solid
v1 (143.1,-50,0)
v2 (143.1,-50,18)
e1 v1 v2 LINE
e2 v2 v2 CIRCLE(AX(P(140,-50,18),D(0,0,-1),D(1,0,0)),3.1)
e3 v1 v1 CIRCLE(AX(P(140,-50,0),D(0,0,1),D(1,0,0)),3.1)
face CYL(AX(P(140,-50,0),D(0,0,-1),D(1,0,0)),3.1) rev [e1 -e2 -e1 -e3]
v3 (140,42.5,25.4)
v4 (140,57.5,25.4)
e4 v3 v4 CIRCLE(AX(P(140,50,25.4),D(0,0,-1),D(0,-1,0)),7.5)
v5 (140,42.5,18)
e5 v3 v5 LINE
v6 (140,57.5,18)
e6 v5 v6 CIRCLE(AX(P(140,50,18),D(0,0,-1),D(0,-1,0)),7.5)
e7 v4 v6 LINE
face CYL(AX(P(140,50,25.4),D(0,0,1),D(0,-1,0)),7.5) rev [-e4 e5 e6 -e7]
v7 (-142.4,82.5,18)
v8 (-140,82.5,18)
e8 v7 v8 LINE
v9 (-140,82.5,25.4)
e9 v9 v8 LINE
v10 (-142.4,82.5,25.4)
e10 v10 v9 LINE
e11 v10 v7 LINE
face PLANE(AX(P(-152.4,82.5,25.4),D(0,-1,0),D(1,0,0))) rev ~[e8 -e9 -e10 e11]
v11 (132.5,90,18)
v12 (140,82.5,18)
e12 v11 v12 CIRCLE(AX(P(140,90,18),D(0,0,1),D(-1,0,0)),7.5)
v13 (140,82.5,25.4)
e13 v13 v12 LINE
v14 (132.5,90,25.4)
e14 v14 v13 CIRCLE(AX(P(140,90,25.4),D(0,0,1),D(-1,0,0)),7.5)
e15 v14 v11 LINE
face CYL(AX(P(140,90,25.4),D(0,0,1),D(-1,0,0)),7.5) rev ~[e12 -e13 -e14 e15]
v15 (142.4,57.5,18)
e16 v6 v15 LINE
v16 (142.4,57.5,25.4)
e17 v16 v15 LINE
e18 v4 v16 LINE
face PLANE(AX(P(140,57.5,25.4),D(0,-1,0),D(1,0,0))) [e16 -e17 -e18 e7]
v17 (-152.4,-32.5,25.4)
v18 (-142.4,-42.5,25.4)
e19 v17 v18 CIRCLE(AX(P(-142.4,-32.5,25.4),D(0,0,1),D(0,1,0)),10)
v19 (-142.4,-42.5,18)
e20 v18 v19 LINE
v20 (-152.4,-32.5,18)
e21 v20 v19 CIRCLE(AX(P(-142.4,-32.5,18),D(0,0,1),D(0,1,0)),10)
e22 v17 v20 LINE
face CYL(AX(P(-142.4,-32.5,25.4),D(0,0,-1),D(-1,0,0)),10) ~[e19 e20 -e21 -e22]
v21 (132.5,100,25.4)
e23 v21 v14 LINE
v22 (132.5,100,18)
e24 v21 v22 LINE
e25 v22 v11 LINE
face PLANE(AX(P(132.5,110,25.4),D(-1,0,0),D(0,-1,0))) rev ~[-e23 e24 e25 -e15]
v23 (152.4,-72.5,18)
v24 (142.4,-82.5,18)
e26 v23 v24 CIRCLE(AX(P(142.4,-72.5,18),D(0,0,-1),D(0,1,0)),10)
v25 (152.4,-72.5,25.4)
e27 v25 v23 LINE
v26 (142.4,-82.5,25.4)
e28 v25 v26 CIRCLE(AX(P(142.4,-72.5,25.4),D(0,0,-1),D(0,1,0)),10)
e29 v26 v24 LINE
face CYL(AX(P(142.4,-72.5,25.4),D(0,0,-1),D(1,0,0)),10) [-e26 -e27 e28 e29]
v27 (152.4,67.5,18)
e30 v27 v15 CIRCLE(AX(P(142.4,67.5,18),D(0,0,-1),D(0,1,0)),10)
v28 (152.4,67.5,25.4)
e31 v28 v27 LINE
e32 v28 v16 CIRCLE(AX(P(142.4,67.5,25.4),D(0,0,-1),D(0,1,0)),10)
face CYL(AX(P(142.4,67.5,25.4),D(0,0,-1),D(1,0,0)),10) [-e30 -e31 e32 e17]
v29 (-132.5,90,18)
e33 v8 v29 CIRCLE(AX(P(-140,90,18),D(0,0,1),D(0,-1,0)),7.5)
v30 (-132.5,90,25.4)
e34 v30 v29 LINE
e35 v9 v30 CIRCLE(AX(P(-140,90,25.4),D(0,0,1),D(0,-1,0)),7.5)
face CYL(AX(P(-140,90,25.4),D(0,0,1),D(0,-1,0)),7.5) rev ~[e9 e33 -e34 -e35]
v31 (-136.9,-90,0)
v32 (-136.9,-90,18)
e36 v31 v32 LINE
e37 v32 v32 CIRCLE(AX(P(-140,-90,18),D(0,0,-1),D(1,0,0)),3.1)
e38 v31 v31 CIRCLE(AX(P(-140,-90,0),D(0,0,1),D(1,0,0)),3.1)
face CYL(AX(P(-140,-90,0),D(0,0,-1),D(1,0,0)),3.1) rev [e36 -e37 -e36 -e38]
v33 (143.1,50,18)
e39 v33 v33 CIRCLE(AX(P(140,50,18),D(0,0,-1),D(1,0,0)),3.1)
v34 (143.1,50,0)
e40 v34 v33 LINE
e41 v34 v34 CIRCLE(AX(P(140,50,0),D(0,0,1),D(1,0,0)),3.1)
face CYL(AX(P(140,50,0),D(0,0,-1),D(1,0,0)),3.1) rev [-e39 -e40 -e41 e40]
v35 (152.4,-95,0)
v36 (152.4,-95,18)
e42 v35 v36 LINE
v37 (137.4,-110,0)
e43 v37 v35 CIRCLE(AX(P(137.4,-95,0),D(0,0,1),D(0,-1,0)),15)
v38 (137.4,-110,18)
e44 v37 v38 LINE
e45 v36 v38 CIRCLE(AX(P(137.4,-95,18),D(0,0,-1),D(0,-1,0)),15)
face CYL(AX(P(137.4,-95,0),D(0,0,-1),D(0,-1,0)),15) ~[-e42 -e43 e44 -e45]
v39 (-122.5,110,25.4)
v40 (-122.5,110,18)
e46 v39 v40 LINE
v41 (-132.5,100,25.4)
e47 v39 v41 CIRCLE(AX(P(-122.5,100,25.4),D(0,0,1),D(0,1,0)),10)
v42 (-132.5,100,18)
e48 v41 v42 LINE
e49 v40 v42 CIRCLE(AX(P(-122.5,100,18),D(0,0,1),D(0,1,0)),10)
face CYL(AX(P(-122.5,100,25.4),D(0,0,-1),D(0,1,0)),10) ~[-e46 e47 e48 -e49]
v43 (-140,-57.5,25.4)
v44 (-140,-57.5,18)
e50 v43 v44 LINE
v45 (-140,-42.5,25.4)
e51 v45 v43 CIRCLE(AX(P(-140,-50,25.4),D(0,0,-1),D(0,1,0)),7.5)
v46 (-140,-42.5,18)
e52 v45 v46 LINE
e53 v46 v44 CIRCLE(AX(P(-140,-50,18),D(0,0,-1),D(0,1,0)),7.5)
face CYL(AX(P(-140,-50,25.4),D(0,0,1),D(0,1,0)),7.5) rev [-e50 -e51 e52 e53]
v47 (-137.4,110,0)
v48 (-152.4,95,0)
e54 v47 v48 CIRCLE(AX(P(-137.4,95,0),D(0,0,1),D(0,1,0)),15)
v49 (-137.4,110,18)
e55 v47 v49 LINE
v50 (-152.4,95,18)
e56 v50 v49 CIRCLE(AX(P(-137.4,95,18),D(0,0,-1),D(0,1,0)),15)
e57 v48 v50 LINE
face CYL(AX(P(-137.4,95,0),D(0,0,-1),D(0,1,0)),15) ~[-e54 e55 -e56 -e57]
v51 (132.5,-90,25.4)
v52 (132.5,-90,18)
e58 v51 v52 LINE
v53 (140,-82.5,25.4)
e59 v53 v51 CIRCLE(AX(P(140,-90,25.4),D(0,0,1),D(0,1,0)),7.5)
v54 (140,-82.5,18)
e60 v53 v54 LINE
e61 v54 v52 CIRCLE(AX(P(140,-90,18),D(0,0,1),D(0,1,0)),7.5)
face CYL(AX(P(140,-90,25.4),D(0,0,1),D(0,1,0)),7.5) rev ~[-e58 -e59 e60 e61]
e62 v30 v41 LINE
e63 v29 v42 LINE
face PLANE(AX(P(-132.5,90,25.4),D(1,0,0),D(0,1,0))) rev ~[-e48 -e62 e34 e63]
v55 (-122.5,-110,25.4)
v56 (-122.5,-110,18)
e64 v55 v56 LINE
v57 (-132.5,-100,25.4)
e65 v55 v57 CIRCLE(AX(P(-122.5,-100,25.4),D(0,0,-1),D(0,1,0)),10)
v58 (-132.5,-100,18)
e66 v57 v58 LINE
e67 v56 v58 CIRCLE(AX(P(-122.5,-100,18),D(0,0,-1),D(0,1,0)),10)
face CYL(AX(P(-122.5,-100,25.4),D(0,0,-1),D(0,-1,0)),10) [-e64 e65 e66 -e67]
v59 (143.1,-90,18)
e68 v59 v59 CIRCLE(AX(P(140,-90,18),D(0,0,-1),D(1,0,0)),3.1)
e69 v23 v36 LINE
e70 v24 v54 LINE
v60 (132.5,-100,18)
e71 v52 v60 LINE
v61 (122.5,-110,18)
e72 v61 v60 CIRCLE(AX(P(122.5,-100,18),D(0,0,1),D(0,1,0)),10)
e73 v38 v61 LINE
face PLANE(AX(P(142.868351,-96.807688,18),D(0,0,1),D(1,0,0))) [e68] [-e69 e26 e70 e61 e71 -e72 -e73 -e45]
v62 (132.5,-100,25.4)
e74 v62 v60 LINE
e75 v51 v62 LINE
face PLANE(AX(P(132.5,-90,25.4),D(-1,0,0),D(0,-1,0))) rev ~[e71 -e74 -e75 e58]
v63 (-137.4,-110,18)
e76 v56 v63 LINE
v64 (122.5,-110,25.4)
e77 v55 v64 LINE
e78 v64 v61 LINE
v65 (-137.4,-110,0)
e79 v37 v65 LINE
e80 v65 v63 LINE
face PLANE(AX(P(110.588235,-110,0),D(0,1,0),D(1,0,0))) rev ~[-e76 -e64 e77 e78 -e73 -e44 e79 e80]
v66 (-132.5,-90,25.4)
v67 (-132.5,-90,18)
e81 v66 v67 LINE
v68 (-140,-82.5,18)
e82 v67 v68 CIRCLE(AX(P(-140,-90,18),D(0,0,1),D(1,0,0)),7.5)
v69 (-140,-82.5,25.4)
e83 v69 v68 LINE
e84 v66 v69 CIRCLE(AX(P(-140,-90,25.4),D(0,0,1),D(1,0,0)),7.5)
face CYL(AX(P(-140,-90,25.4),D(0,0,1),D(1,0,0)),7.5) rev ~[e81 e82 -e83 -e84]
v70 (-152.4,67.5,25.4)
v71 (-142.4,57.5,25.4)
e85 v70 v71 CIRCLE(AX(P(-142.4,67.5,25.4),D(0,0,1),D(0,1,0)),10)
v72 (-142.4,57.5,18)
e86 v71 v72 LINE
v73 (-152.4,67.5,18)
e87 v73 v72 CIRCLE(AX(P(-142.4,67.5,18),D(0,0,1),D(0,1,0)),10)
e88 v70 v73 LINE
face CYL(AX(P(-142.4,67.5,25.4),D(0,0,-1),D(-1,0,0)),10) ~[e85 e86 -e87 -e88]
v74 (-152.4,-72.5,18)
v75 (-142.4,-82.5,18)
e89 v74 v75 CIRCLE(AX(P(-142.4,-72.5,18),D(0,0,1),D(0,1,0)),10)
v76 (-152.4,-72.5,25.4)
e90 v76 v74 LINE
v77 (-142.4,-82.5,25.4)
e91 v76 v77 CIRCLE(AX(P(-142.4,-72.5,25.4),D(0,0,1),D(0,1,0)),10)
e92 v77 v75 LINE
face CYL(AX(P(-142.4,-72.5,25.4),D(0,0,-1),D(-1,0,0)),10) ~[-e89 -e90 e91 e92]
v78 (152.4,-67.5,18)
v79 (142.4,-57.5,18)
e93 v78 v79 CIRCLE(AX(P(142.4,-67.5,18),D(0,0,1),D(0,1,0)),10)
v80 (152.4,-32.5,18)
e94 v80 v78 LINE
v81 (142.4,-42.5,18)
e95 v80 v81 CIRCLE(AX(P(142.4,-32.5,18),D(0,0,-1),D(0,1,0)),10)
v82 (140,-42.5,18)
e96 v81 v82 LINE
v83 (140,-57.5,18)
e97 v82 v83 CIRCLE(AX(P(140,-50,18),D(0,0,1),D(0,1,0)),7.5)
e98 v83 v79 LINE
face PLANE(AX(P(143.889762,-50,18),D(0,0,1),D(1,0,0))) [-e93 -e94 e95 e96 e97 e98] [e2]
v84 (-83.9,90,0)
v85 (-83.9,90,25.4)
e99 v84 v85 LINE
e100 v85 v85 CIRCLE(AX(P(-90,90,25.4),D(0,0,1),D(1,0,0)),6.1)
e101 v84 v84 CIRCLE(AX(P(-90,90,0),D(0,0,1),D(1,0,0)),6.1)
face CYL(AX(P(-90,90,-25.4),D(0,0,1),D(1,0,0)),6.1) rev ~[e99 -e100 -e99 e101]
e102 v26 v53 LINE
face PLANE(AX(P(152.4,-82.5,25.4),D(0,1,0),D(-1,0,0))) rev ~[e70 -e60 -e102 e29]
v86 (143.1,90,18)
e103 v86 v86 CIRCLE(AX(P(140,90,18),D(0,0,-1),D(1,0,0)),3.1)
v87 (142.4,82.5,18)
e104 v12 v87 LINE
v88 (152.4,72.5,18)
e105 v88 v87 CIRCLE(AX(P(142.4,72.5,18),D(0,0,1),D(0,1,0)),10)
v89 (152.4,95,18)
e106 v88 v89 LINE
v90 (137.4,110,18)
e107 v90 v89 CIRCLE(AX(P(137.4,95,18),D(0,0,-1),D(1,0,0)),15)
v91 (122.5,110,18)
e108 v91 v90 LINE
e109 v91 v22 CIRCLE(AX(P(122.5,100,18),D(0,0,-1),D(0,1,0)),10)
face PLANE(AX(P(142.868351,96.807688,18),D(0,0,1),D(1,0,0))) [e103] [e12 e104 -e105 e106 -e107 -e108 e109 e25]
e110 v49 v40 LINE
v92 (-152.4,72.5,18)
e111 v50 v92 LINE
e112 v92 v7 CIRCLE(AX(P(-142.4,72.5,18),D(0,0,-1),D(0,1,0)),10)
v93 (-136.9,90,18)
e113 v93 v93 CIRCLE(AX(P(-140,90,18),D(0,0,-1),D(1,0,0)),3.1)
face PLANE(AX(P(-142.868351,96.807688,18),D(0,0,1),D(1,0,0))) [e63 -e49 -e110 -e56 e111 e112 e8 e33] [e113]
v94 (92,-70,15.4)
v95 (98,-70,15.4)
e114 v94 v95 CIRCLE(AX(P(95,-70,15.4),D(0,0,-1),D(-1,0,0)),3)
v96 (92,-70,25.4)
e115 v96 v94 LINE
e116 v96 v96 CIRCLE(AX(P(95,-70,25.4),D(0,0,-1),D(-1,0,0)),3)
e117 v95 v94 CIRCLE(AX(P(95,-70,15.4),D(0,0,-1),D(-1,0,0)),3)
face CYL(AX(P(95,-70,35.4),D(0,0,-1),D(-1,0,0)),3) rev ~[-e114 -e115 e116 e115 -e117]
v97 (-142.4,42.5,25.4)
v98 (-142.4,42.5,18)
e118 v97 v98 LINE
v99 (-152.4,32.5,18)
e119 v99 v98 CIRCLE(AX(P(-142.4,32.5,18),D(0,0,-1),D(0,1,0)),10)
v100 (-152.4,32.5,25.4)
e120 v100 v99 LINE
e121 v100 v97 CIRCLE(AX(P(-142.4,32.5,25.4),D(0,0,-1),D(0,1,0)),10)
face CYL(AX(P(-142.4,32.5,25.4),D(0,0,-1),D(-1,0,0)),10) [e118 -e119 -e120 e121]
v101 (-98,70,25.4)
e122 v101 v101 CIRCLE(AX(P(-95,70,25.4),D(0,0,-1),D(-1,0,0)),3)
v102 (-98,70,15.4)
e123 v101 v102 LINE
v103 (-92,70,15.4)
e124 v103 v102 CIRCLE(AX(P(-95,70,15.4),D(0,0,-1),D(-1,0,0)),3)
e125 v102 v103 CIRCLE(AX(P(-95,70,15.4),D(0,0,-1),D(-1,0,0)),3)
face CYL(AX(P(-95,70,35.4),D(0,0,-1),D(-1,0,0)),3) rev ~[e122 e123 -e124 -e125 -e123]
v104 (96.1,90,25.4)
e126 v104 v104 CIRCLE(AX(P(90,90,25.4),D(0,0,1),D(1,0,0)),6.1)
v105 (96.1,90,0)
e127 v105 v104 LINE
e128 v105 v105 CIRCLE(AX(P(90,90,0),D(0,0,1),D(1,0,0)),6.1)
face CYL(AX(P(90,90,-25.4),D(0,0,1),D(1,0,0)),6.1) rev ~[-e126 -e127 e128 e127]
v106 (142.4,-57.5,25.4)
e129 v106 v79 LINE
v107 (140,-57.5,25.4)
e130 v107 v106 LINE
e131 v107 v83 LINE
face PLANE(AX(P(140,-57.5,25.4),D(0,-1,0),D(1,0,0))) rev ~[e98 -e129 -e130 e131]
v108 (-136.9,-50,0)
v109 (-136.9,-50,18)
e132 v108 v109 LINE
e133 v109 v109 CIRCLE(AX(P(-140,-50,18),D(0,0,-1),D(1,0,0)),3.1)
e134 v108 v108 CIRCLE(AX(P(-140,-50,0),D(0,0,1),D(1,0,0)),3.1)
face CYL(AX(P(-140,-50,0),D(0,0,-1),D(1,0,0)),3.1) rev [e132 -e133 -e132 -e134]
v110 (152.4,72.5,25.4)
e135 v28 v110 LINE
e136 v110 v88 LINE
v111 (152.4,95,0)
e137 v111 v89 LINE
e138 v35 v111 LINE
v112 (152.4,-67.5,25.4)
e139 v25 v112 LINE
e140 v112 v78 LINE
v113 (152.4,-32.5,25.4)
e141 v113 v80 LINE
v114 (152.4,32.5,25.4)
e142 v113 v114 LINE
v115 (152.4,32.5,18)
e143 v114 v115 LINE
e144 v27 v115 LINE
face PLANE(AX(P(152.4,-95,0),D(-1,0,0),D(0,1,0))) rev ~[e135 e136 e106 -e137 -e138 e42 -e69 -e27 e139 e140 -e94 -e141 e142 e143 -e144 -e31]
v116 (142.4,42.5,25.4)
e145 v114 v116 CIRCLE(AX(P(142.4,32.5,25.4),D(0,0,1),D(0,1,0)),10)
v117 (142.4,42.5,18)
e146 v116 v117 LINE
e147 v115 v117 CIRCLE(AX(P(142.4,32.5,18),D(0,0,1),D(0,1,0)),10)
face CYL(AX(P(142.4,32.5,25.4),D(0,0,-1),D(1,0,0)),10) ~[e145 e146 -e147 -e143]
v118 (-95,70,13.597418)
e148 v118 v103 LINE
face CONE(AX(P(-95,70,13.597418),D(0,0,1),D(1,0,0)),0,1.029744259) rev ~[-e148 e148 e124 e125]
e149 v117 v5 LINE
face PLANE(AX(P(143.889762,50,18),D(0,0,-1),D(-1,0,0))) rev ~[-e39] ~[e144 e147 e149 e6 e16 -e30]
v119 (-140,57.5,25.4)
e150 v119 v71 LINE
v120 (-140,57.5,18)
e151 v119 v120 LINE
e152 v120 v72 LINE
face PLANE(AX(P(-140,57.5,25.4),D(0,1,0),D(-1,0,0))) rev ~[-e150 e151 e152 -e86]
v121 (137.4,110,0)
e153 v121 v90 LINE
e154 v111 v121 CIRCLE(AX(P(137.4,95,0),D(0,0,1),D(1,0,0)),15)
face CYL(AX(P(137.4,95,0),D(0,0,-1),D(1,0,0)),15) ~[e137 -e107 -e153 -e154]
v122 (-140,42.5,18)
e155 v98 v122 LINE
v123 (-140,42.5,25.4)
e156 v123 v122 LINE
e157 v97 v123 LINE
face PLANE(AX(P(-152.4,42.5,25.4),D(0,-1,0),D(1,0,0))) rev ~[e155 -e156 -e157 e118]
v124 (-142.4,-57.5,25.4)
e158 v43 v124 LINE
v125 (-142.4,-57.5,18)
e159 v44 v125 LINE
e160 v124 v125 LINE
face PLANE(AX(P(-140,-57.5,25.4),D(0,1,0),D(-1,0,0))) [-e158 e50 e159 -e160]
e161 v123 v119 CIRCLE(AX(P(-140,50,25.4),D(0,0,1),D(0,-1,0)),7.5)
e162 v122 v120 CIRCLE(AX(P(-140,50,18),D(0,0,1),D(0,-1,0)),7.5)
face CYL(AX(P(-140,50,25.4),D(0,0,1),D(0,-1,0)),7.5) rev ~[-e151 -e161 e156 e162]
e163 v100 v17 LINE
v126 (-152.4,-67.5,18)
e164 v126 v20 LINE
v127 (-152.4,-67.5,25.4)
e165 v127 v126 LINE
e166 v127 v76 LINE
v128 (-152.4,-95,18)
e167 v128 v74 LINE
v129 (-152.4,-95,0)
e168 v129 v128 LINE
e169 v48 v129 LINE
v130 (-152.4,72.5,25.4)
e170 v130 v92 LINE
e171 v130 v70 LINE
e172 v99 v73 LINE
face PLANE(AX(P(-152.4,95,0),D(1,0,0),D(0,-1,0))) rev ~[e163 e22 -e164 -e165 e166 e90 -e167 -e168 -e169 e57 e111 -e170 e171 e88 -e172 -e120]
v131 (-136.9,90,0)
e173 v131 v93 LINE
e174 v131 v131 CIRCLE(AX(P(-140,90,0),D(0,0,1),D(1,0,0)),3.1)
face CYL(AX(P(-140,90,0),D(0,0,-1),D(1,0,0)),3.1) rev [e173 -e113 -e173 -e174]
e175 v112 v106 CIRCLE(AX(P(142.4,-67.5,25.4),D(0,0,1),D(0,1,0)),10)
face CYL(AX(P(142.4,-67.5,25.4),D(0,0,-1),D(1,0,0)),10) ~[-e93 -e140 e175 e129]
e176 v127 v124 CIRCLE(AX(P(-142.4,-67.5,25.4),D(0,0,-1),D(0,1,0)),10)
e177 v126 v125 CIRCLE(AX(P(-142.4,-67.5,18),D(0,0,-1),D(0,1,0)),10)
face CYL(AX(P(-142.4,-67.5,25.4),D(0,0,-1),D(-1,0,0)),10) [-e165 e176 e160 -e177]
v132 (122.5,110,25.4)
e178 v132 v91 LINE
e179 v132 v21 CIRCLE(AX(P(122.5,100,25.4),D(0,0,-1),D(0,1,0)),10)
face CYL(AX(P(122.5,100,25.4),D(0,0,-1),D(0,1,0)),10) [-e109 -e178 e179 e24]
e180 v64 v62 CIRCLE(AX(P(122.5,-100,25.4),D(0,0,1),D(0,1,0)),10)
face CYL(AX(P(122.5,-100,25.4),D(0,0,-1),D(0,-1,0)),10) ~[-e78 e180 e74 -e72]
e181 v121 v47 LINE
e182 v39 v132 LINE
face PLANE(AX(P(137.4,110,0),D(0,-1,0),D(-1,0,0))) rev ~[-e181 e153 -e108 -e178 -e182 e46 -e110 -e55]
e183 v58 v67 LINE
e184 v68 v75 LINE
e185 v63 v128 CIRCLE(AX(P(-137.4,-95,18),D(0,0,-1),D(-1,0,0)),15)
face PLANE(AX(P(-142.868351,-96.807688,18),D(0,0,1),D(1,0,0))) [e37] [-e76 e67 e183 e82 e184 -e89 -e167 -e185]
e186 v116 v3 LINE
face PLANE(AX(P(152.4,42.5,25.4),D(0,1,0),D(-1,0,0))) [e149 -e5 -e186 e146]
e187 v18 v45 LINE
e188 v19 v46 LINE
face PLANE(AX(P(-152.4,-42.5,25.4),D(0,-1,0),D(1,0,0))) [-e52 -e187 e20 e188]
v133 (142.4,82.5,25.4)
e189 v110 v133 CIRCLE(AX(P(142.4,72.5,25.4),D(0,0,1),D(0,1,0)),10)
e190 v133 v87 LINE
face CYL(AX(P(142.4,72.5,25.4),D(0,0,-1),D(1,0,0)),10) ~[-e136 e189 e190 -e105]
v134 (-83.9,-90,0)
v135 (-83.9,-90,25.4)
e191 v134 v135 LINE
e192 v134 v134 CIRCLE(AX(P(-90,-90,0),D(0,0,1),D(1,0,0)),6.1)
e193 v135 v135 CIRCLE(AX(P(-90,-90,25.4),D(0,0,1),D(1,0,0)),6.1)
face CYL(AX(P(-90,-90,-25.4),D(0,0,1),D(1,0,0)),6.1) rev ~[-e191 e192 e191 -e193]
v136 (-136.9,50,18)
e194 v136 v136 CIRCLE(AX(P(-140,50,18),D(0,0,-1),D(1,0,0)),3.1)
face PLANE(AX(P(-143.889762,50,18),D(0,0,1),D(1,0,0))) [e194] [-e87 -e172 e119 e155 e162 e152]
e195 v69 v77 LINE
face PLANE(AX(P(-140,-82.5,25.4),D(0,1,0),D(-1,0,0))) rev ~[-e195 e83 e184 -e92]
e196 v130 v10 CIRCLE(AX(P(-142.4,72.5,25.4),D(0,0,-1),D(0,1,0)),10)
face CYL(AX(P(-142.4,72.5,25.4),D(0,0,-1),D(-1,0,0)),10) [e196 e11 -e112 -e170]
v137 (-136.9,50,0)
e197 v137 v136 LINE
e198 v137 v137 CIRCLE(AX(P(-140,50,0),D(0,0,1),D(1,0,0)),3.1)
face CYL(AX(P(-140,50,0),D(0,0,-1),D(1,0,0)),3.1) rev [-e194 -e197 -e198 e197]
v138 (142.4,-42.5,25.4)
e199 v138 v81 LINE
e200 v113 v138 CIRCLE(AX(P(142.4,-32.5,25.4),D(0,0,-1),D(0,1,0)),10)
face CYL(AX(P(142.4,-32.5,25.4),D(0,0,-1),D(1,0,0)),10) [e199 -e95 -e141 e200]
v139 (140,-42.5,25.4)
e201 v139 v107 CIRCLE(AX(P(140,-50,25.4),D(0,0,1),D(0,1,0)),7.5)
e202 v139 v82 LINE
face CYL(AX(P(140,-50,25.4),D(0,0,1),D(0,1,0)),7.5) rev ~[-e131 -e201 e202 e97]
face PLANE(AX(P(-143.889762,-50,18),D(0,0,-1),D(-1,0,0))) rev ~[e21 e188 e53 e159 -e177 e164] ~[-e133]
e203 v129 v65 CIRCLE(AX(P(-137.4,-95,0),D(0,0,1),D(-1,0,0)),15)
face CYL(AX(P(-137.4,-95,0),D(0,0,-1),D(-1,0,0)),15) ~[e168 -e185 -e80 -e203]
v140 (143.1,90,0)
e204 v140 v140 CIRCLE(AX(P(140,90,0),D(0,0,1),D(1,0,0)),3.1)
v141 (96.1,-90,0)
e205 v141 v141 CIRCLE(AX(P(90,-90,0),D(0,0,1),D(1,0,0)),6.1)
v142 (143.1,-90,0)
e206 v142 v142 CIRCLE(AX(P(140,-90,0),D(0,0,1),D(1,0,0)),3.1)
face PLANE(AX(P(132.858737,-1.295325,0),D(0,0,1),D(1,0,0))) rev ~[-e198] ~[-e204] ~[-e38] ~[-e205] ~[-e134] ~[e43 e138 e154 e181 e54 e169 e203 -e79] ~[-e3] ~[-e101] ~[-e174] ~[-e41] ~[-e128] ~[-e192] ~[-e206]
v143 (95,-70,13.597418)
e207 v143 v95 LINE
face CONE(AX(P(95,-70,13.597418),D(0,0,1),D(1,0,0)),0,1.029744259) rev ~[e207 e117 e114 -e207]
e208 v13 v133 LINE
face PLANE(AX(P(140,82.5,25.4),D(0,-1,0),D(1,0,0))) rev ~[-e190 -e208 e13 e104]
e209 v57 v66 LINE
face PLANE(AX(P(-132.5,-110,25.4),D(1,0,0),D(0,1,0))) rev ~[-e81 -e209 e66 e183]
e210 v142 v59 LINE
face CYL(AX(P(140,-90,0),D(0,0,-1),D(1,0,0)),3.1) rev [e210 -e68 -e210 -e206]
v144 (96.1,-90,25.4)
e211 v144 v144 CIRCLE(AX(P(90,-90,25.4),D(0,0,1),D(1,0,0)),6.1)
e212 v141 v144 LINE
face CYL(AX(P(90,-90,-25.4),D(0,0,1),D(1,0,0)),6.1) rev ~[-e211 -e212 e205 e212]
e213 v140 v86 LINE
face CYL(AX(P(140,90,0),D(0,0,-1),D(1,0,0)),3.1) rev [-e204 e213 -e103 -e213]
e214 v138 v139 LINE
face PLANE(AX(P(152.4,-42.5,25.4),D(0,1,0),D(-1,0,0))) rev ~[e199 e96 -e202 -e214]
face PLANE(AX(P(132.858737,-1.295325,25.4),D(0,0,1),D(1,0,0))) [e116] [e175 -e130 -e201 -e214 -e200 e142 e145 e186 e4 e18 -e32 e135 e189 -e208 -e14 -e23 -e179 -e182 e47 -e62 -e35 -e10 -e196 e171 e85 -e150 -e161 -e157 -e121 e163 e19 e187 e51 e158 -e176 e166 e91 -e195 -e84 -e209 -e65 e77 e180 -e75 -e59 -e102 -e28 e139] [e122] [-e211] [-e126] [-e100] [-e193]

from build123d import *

# Parameters (mm, degrees)
BOSS_EXTRUDE2_DEPTH              = 25.4
CUT_EXTRUDE2_DEPTH               = 26.4
F_10_2_10_2_DIAMETER_HOLE2_D     = 12.2
F_10_2_10_2_DIAMETER_HOLE2_DEPTH = 25.4
F_15_0_15_DIAMETER_HOLE2_D       = 15
F_15_0_15_DIAMETER_HOLE2_DEPTH   = 25.4
SKETCH32_R                       = 300
SKETCH32_W                       = 230
SKETCH32_H                       = 220
CUT_EXTRUDE3_DEPTH               = 26.4
SKETCH33_R                       = 3.1
BOSS_EXTRUDE3_DEPTH              = 25.4
F_6_0_6_DIAMETER_HOLE3_D         = 6
F_6_0_6_DIAMETER_HOLE3_DEPTH     = 10
F_6_0_6_DIAMETER_HOLE3_TIP       = 1.802581857
CUT_EXTRUDE4_DEPTH               = 7.4
FILLET1_R                        = 10


with BuildPart() as part:
    # Sketch18 → Boss-Extrude2 (new body)
    with BuildSketch(Plane(origin=(0, 0, 0), x_dir=(-1, 0, 0), z_dir=(0, 0, -1))):
        with BuildLine():
            Line((20, -40), (-20, -40))
            ThreePointArc((-20, -40), (-41.213203436, -31.213203436), (-50, -10))
            Line((-50, -10), (-50, -5))
            Line((-50, -5), (-55, 0))
            Line((-55, 0), (-50, 5))
            Line((-50, 5), (-50, 100))
            ThreePointArc((-50, 100), (-52.928932188, 107.071067812), (-60, 110))
            Line((-60, 110), (-165, 110))
            ThreePointArc((-165, 110), (-172.071067812, 107.071067812), (-175, 100))
            Line((-175, 100), (-175, 40))
            ThreePointArc((-175, 40), (-172.071067812, 32.928932188), (-165, 30))
            Line((-165, 30), (-155, 30))
            ThreePointArc((-155, 30), (-126.715728753, 18.284271247), (-115, -10))
            Line((-115, -10), (-115, -104.24379092))
            ThreePointArc((-115, -104.24379092), (-114.870742021, -104.951126971), (-114.499675711, -105.567034195))
            Line((-114.499675711, -105.567034195), (-40.597138287, -189.323243274))
            ThreePointArc((-40.597138287, -189.323243274), (-39.920114828, -189.822976488), (-39.097462577, -190))
            Line((-39.097462577, -190), (39.097462577, -190))
            ThreePointArc((39.097462577, -190), (39.920114828, -189.822976488), (40.597138287, -189.323243274))
            Line((40.597138287, -189.323243274), (114.499675711, -105.567034195))
            ThreePointArc((114.499675711, -105.567034195), (114.870742021, -104.951126971), (115, -104.24379092))
            Line((115, -104.24379092), (115, -10))
            ThreePointArc((115, -10), (126.715728753, 18.284271247), (155, 30))
            Line((155, 30), (165, 30))
            ThreePointArc((165, 30), (172.071067812, 32.928932188), (175, 40))
            Line((175, 40), (175, 100))
            ThreePointArc((175, 100), (172.071067812, 107.071067812), (165, 110))
            Line((165, 110), (60, 110))
            ThreePointArc((60, 110), (52.928932188, 107.071067812), (50, 100))
            Line((50, 100), (50, 5))
            Line((50, 5), (55, 0))
            Line((55, 0), (50, -5))
            Line((50, -5), (50, -10))
            ThreePointArc((50, -10), (41.213203436, -31.213203436), (20, -40))
        make_face()
    extrude(amount=-BOSS_EXTRUDE2_DEPTH)

    # Sketch19 → Cut-Extrude2 (cut, through all)
    with BuildSketch(Plane(origin=(0, 0, 0), x_dir=(-1, 0, 0), z_dir=(0, 0, -1))):
        Polygon((-5, -40), (0, -45), (5, -40), align=None)
    extrude(amount=-CUT_EXTRUDE2_DEPTH, mode=Mode.SUBTRACT)

    # Ø10.2 (10.2) Diameter Hole2
    with Locations(Plane(origin=(0, 0, 0), x_dir=(-1, 0, 0), z_dir=(0, 0, -1))):
        with Locations((-90, -90), (90, -90), (-90, 90), (90, 90)):
            Hole(F_10_2_10_2_DIAMETER_HOLE2_D / 2, depth=F_10_2_10_2_DIAMETER_HOLE2_DEPTH)

    # Ø15.0 (15) Diameter Hole2
    with Locations(Plane(origin=(0, 0, 0), x_dir=(-1, 0, 0), z_dir=(0, 0, -1))):
        with Locations((0, -150), (-135, 60), (135, 60)):
            Hole(F_15_0_15_DIAMETER_HOLE2_D / 2, depth=F_15_0_15_DIAMETER_HOLE2_DEPTH)

    # Sketch32 → Cut-Extrude3 (cut, through all)
    with BuildSketch(Plane.XY):
        Circle(SKETCH32_R)
        Rectangle(SKETCH32_W, SKETCH32_H, mode=Mode.SUBTRACT)
    extrude(amount=CUT_EXTRUDE3_DEPTH, mode=Mode.SUBTRACT)

    # Sketch33 → Boss-Extrude3 (add)
    with BuildSketch(Plane.XY):
        with BuildLine():
            Line((137.4, 110), (115, 110))
            Line((115, 110), (115, -104.24379092))
            ThreePointArc((115, -104.24379092), (114.870742021, -104.951126971), (114.499675711, -105.567034195))
            Line((114.499675711, -105.567034195), (110.588235294, -110))
            Line((110.588235294, -110), (137.4, -110))
            ThreePointArc((137.4, -110), (148.006601718, -105.606601718), (152.4, -95))
            Line((152.4, -95), (152.4, 95))
            ThreePointArc((152.4, 95), (148.006601718, 105.606601718), (137.4, 110))
        make_face()
        with Locations((140, -90)):
            Circle(SKETCH33_R, mode=Mode.SUBTRACT)
        with Locations((140, -50)):
            Circle(SKETCH33_R, mode=Mode.SUBTRACT)
        with Locations((140, 50)):
            Circle(SKETCH33_R, mode=Mode.SUBTRACT)
        with Locations((140, 90)):
            Circle(SKETCH33_R, mode=Mode.SUBTRACT)
        with BuildLine():
            ThreePointArc((50, 100), (52.928932188, 107.071067812), (60, 110))
            Line((60, 110), (-60, 110))
            ThreePointArc((-60, 110), (-52.928932188, 107.071067812), (-50, 100))
            Line((-50, 100), (-50, 5))
            Line((-50, 5), (-55, 0))
            Line((-55, 0), (-50, -5))
            Line((-50, -5), (-50, -10))
            ThreePointArc((-50, -10), (-41.213203436, -31.213203436), (-20, -40))
            Line((-20, -40), (-5, -40))
            Line((-5, -40), (0, -45))
            Line((0, -45), (5, -40))
            Line((5, -40), (20, -40))
            ThreePointArc((20, -40), (41.213203436, -31.213203436), (50, -10))
            Line((50, -10), (50, -5))
            Line((50, -5), (55, 0))
            Line((55, 0), (50, 5))
            Line((50, 5), (50, 100))
        make_face()
        with BuildLine():
            Line((-115, -104.24379092), (-115, 110))
            Line((-115, 110), (-137.4, 110))
            ThreePointArc((-137.4, 110), (-148.006601718, 105.606601718), (-152.4, 95))
            Line((-152.4, 95), (-152.4, -95))
            ThreePointArc((-152.4, -95), (-148.006601718, -105.606601718), (-137.4, -110))
            Line((-137.4, -110), (-110.588235294, -110))
            Line((-110.588235294, -110), (-114.499675711, -105.567034195))
            ThreePointArc((-114.499675711, -105.567034195), (-114.870742021, -104.951126971), (-115, -104.24379092))
        make_face()
        with Locations((-140, -90)):
            Circle(SKETCH33_R, mode=Mode.SUBTRACT)
        with Locations((-140, -50)):
            Circle(SKETCH33_R, mode=Mode.SUBTRACT)
        with Locations((-140, 50)):
            Circle(SKETCH33_R, mode=Mode.SUBTRACT)
        with Locations((-140, 90)):
            Circle(SKETCH33_R, mode=Mode.SUBTRACT)
    extrude(amount=BOSS_EXTRUDE3_DEPTH)

    # Ø6.0 (6) Diameter Hole3
    with Locations(Plane.XY.offset(25.4)):
        with Locations((95, -70), (-95, 70)):
            Hole(F_6_0_6_DIAMETER_HOLE3_D / 2, depth=F_6_0_6_DIAMETER_HOLE3_DEPTH)
            with Locations((0, 0, -(F_6_0_6_DIAMETER_HOLE3_DEPTH + F_6_0_6_DIAMETER_HOLE3_TIP / 2))):  # 118° drill point
                Cone(0, F_6_0_6_DIAMETER_HOLE3_D / 2, F_6_0_6_DIAMETER_HOLE3_TIP, mode=Mode.SUBTRACT)

    # Sketch34 → Cut-Extrude4 (cut)
    with BuildSketch(Plane.XY.offset(25.4)):
        with BuildLine():
            Line((140, 82.5), (152.4, 82.5))
            Line((152.4, 82.5), (152.4, 110))
            Line((152.4, 110), (132.5, 110))
            Line((132.5, 110), (132.5, 90))
            ThreePointArc((132.5, 90), (134.696699141, 84.696699141), (140, 82.5))
        make_face()
        with BuildLine():
            Line((140, 57.5), (152.4, 57.5))
            Line((152.4, 57.5), (152.4, 42.5))
            Line((152.4, 42.5), (140, 42.5))
            ThreePointArc((140, 42.5), (132.5, 50), (140, 57.5))
        make_face()
        with BuildLine():
            Line((140, -57.5), (152.4, -57.5))
            Line((152.4, -57.5), (152.4, -42.5))
            Line((152.4, -42.5), (140, -42.5))
            ThreePointArc((140, -42.5), (132.5, -50), (140, -57.5))
        make_face()
        with BuildLine():
            Line((132.5, -90), (132.5, -110))
            Line((132.5, -110), (152.4, -110))
            Line((152.4, -110), (152.4, -82.5))
            Line((152.4, -82.5), (140, -82.5))
            ThreePointArc((140, -82.5), (134.696699141, -84.696699141), (132.5, -90))
        make_face()
        with BuildLine():
            Line((-140, -82.5), (-152.4, -82.5))
            Line((-152.4, -82.5), (-152.4, -110))
            Line((-152.4, -110), (-132.5, -110))
            Line((-132.5, -110), (-132.5, -90))
            ThreePointArc((-132.5, -90), (-134.696699141, -84.696699141), (-140, -82.5))
        make_face()
        with BuildLine():
            Line((-152.4, -42.5), (-140, -42.5))
            ThreePointArc((-140, -42.5), (-132.5, -50), (-140, -57.5))
            Line((-140, -57.5), (-152.4, -57.5))
            Line((-152.4, -57.5), (-152.4, -42.5))
        make_face()
        with BuildLine():
            Line((-140, 57.5), (-152.4, 57.5))
            Line((-152.4, 57.5), (-152.4, 42.5))
            Line((-152.4, 42.5), (-140, 42.5))
            ThreePointArc((-140, 42.5), (-132.5, 50), (-140, 57.5))
        make_face()
        with BuildLine():
            Line((-132.5, 90), (-132.5, 110))
            Line((-132.5, 110), (-152.4, 110))
            Line((-152.4, 110), (-152.4, 82.5))
            Line((-152.4, 82.5), (-140, 82.5))
            ThreePointArc((-140, 82.5), (-134.696699141, 84.696699141), (-132.5, 90))
        make_face()
    extrude(amount=-CUT_EXTRUDE4_DEPTH, mode=Mode.SUBTRACT)

    # Fillet1
    fillet1_edges = [part.edges().sort_by_distance(p)[0] for p in [
        (152.4, 57.5, 21.7),
        (152.4, 42.5, 21.7),
        (152.4, -42.5, 21.7),
        (152.4, -57.5, 21.7),
        (152.4, -82.5, 21.7),
        (132.5, -110, 21.7),
        (-132.5, -110, 21.7),
        (-152.4, -82.5, 21.7),
        (-152.4, -57.5, 21.7),
        (-152.4, -42.5, 21.7),
        (-152.4, 42.5, 21.7),
        (-152.4, 57.5, 21.7),
        (-152.4, 82.5, 21.7),
        (-132.5, 110, 21.7),
        (132.5, 110, 21.7),
        (152.4, 82.5, 21.7),
    ]]
    fillet(fillet1_edges, radius=FILLET1_R)


solid = part.part
